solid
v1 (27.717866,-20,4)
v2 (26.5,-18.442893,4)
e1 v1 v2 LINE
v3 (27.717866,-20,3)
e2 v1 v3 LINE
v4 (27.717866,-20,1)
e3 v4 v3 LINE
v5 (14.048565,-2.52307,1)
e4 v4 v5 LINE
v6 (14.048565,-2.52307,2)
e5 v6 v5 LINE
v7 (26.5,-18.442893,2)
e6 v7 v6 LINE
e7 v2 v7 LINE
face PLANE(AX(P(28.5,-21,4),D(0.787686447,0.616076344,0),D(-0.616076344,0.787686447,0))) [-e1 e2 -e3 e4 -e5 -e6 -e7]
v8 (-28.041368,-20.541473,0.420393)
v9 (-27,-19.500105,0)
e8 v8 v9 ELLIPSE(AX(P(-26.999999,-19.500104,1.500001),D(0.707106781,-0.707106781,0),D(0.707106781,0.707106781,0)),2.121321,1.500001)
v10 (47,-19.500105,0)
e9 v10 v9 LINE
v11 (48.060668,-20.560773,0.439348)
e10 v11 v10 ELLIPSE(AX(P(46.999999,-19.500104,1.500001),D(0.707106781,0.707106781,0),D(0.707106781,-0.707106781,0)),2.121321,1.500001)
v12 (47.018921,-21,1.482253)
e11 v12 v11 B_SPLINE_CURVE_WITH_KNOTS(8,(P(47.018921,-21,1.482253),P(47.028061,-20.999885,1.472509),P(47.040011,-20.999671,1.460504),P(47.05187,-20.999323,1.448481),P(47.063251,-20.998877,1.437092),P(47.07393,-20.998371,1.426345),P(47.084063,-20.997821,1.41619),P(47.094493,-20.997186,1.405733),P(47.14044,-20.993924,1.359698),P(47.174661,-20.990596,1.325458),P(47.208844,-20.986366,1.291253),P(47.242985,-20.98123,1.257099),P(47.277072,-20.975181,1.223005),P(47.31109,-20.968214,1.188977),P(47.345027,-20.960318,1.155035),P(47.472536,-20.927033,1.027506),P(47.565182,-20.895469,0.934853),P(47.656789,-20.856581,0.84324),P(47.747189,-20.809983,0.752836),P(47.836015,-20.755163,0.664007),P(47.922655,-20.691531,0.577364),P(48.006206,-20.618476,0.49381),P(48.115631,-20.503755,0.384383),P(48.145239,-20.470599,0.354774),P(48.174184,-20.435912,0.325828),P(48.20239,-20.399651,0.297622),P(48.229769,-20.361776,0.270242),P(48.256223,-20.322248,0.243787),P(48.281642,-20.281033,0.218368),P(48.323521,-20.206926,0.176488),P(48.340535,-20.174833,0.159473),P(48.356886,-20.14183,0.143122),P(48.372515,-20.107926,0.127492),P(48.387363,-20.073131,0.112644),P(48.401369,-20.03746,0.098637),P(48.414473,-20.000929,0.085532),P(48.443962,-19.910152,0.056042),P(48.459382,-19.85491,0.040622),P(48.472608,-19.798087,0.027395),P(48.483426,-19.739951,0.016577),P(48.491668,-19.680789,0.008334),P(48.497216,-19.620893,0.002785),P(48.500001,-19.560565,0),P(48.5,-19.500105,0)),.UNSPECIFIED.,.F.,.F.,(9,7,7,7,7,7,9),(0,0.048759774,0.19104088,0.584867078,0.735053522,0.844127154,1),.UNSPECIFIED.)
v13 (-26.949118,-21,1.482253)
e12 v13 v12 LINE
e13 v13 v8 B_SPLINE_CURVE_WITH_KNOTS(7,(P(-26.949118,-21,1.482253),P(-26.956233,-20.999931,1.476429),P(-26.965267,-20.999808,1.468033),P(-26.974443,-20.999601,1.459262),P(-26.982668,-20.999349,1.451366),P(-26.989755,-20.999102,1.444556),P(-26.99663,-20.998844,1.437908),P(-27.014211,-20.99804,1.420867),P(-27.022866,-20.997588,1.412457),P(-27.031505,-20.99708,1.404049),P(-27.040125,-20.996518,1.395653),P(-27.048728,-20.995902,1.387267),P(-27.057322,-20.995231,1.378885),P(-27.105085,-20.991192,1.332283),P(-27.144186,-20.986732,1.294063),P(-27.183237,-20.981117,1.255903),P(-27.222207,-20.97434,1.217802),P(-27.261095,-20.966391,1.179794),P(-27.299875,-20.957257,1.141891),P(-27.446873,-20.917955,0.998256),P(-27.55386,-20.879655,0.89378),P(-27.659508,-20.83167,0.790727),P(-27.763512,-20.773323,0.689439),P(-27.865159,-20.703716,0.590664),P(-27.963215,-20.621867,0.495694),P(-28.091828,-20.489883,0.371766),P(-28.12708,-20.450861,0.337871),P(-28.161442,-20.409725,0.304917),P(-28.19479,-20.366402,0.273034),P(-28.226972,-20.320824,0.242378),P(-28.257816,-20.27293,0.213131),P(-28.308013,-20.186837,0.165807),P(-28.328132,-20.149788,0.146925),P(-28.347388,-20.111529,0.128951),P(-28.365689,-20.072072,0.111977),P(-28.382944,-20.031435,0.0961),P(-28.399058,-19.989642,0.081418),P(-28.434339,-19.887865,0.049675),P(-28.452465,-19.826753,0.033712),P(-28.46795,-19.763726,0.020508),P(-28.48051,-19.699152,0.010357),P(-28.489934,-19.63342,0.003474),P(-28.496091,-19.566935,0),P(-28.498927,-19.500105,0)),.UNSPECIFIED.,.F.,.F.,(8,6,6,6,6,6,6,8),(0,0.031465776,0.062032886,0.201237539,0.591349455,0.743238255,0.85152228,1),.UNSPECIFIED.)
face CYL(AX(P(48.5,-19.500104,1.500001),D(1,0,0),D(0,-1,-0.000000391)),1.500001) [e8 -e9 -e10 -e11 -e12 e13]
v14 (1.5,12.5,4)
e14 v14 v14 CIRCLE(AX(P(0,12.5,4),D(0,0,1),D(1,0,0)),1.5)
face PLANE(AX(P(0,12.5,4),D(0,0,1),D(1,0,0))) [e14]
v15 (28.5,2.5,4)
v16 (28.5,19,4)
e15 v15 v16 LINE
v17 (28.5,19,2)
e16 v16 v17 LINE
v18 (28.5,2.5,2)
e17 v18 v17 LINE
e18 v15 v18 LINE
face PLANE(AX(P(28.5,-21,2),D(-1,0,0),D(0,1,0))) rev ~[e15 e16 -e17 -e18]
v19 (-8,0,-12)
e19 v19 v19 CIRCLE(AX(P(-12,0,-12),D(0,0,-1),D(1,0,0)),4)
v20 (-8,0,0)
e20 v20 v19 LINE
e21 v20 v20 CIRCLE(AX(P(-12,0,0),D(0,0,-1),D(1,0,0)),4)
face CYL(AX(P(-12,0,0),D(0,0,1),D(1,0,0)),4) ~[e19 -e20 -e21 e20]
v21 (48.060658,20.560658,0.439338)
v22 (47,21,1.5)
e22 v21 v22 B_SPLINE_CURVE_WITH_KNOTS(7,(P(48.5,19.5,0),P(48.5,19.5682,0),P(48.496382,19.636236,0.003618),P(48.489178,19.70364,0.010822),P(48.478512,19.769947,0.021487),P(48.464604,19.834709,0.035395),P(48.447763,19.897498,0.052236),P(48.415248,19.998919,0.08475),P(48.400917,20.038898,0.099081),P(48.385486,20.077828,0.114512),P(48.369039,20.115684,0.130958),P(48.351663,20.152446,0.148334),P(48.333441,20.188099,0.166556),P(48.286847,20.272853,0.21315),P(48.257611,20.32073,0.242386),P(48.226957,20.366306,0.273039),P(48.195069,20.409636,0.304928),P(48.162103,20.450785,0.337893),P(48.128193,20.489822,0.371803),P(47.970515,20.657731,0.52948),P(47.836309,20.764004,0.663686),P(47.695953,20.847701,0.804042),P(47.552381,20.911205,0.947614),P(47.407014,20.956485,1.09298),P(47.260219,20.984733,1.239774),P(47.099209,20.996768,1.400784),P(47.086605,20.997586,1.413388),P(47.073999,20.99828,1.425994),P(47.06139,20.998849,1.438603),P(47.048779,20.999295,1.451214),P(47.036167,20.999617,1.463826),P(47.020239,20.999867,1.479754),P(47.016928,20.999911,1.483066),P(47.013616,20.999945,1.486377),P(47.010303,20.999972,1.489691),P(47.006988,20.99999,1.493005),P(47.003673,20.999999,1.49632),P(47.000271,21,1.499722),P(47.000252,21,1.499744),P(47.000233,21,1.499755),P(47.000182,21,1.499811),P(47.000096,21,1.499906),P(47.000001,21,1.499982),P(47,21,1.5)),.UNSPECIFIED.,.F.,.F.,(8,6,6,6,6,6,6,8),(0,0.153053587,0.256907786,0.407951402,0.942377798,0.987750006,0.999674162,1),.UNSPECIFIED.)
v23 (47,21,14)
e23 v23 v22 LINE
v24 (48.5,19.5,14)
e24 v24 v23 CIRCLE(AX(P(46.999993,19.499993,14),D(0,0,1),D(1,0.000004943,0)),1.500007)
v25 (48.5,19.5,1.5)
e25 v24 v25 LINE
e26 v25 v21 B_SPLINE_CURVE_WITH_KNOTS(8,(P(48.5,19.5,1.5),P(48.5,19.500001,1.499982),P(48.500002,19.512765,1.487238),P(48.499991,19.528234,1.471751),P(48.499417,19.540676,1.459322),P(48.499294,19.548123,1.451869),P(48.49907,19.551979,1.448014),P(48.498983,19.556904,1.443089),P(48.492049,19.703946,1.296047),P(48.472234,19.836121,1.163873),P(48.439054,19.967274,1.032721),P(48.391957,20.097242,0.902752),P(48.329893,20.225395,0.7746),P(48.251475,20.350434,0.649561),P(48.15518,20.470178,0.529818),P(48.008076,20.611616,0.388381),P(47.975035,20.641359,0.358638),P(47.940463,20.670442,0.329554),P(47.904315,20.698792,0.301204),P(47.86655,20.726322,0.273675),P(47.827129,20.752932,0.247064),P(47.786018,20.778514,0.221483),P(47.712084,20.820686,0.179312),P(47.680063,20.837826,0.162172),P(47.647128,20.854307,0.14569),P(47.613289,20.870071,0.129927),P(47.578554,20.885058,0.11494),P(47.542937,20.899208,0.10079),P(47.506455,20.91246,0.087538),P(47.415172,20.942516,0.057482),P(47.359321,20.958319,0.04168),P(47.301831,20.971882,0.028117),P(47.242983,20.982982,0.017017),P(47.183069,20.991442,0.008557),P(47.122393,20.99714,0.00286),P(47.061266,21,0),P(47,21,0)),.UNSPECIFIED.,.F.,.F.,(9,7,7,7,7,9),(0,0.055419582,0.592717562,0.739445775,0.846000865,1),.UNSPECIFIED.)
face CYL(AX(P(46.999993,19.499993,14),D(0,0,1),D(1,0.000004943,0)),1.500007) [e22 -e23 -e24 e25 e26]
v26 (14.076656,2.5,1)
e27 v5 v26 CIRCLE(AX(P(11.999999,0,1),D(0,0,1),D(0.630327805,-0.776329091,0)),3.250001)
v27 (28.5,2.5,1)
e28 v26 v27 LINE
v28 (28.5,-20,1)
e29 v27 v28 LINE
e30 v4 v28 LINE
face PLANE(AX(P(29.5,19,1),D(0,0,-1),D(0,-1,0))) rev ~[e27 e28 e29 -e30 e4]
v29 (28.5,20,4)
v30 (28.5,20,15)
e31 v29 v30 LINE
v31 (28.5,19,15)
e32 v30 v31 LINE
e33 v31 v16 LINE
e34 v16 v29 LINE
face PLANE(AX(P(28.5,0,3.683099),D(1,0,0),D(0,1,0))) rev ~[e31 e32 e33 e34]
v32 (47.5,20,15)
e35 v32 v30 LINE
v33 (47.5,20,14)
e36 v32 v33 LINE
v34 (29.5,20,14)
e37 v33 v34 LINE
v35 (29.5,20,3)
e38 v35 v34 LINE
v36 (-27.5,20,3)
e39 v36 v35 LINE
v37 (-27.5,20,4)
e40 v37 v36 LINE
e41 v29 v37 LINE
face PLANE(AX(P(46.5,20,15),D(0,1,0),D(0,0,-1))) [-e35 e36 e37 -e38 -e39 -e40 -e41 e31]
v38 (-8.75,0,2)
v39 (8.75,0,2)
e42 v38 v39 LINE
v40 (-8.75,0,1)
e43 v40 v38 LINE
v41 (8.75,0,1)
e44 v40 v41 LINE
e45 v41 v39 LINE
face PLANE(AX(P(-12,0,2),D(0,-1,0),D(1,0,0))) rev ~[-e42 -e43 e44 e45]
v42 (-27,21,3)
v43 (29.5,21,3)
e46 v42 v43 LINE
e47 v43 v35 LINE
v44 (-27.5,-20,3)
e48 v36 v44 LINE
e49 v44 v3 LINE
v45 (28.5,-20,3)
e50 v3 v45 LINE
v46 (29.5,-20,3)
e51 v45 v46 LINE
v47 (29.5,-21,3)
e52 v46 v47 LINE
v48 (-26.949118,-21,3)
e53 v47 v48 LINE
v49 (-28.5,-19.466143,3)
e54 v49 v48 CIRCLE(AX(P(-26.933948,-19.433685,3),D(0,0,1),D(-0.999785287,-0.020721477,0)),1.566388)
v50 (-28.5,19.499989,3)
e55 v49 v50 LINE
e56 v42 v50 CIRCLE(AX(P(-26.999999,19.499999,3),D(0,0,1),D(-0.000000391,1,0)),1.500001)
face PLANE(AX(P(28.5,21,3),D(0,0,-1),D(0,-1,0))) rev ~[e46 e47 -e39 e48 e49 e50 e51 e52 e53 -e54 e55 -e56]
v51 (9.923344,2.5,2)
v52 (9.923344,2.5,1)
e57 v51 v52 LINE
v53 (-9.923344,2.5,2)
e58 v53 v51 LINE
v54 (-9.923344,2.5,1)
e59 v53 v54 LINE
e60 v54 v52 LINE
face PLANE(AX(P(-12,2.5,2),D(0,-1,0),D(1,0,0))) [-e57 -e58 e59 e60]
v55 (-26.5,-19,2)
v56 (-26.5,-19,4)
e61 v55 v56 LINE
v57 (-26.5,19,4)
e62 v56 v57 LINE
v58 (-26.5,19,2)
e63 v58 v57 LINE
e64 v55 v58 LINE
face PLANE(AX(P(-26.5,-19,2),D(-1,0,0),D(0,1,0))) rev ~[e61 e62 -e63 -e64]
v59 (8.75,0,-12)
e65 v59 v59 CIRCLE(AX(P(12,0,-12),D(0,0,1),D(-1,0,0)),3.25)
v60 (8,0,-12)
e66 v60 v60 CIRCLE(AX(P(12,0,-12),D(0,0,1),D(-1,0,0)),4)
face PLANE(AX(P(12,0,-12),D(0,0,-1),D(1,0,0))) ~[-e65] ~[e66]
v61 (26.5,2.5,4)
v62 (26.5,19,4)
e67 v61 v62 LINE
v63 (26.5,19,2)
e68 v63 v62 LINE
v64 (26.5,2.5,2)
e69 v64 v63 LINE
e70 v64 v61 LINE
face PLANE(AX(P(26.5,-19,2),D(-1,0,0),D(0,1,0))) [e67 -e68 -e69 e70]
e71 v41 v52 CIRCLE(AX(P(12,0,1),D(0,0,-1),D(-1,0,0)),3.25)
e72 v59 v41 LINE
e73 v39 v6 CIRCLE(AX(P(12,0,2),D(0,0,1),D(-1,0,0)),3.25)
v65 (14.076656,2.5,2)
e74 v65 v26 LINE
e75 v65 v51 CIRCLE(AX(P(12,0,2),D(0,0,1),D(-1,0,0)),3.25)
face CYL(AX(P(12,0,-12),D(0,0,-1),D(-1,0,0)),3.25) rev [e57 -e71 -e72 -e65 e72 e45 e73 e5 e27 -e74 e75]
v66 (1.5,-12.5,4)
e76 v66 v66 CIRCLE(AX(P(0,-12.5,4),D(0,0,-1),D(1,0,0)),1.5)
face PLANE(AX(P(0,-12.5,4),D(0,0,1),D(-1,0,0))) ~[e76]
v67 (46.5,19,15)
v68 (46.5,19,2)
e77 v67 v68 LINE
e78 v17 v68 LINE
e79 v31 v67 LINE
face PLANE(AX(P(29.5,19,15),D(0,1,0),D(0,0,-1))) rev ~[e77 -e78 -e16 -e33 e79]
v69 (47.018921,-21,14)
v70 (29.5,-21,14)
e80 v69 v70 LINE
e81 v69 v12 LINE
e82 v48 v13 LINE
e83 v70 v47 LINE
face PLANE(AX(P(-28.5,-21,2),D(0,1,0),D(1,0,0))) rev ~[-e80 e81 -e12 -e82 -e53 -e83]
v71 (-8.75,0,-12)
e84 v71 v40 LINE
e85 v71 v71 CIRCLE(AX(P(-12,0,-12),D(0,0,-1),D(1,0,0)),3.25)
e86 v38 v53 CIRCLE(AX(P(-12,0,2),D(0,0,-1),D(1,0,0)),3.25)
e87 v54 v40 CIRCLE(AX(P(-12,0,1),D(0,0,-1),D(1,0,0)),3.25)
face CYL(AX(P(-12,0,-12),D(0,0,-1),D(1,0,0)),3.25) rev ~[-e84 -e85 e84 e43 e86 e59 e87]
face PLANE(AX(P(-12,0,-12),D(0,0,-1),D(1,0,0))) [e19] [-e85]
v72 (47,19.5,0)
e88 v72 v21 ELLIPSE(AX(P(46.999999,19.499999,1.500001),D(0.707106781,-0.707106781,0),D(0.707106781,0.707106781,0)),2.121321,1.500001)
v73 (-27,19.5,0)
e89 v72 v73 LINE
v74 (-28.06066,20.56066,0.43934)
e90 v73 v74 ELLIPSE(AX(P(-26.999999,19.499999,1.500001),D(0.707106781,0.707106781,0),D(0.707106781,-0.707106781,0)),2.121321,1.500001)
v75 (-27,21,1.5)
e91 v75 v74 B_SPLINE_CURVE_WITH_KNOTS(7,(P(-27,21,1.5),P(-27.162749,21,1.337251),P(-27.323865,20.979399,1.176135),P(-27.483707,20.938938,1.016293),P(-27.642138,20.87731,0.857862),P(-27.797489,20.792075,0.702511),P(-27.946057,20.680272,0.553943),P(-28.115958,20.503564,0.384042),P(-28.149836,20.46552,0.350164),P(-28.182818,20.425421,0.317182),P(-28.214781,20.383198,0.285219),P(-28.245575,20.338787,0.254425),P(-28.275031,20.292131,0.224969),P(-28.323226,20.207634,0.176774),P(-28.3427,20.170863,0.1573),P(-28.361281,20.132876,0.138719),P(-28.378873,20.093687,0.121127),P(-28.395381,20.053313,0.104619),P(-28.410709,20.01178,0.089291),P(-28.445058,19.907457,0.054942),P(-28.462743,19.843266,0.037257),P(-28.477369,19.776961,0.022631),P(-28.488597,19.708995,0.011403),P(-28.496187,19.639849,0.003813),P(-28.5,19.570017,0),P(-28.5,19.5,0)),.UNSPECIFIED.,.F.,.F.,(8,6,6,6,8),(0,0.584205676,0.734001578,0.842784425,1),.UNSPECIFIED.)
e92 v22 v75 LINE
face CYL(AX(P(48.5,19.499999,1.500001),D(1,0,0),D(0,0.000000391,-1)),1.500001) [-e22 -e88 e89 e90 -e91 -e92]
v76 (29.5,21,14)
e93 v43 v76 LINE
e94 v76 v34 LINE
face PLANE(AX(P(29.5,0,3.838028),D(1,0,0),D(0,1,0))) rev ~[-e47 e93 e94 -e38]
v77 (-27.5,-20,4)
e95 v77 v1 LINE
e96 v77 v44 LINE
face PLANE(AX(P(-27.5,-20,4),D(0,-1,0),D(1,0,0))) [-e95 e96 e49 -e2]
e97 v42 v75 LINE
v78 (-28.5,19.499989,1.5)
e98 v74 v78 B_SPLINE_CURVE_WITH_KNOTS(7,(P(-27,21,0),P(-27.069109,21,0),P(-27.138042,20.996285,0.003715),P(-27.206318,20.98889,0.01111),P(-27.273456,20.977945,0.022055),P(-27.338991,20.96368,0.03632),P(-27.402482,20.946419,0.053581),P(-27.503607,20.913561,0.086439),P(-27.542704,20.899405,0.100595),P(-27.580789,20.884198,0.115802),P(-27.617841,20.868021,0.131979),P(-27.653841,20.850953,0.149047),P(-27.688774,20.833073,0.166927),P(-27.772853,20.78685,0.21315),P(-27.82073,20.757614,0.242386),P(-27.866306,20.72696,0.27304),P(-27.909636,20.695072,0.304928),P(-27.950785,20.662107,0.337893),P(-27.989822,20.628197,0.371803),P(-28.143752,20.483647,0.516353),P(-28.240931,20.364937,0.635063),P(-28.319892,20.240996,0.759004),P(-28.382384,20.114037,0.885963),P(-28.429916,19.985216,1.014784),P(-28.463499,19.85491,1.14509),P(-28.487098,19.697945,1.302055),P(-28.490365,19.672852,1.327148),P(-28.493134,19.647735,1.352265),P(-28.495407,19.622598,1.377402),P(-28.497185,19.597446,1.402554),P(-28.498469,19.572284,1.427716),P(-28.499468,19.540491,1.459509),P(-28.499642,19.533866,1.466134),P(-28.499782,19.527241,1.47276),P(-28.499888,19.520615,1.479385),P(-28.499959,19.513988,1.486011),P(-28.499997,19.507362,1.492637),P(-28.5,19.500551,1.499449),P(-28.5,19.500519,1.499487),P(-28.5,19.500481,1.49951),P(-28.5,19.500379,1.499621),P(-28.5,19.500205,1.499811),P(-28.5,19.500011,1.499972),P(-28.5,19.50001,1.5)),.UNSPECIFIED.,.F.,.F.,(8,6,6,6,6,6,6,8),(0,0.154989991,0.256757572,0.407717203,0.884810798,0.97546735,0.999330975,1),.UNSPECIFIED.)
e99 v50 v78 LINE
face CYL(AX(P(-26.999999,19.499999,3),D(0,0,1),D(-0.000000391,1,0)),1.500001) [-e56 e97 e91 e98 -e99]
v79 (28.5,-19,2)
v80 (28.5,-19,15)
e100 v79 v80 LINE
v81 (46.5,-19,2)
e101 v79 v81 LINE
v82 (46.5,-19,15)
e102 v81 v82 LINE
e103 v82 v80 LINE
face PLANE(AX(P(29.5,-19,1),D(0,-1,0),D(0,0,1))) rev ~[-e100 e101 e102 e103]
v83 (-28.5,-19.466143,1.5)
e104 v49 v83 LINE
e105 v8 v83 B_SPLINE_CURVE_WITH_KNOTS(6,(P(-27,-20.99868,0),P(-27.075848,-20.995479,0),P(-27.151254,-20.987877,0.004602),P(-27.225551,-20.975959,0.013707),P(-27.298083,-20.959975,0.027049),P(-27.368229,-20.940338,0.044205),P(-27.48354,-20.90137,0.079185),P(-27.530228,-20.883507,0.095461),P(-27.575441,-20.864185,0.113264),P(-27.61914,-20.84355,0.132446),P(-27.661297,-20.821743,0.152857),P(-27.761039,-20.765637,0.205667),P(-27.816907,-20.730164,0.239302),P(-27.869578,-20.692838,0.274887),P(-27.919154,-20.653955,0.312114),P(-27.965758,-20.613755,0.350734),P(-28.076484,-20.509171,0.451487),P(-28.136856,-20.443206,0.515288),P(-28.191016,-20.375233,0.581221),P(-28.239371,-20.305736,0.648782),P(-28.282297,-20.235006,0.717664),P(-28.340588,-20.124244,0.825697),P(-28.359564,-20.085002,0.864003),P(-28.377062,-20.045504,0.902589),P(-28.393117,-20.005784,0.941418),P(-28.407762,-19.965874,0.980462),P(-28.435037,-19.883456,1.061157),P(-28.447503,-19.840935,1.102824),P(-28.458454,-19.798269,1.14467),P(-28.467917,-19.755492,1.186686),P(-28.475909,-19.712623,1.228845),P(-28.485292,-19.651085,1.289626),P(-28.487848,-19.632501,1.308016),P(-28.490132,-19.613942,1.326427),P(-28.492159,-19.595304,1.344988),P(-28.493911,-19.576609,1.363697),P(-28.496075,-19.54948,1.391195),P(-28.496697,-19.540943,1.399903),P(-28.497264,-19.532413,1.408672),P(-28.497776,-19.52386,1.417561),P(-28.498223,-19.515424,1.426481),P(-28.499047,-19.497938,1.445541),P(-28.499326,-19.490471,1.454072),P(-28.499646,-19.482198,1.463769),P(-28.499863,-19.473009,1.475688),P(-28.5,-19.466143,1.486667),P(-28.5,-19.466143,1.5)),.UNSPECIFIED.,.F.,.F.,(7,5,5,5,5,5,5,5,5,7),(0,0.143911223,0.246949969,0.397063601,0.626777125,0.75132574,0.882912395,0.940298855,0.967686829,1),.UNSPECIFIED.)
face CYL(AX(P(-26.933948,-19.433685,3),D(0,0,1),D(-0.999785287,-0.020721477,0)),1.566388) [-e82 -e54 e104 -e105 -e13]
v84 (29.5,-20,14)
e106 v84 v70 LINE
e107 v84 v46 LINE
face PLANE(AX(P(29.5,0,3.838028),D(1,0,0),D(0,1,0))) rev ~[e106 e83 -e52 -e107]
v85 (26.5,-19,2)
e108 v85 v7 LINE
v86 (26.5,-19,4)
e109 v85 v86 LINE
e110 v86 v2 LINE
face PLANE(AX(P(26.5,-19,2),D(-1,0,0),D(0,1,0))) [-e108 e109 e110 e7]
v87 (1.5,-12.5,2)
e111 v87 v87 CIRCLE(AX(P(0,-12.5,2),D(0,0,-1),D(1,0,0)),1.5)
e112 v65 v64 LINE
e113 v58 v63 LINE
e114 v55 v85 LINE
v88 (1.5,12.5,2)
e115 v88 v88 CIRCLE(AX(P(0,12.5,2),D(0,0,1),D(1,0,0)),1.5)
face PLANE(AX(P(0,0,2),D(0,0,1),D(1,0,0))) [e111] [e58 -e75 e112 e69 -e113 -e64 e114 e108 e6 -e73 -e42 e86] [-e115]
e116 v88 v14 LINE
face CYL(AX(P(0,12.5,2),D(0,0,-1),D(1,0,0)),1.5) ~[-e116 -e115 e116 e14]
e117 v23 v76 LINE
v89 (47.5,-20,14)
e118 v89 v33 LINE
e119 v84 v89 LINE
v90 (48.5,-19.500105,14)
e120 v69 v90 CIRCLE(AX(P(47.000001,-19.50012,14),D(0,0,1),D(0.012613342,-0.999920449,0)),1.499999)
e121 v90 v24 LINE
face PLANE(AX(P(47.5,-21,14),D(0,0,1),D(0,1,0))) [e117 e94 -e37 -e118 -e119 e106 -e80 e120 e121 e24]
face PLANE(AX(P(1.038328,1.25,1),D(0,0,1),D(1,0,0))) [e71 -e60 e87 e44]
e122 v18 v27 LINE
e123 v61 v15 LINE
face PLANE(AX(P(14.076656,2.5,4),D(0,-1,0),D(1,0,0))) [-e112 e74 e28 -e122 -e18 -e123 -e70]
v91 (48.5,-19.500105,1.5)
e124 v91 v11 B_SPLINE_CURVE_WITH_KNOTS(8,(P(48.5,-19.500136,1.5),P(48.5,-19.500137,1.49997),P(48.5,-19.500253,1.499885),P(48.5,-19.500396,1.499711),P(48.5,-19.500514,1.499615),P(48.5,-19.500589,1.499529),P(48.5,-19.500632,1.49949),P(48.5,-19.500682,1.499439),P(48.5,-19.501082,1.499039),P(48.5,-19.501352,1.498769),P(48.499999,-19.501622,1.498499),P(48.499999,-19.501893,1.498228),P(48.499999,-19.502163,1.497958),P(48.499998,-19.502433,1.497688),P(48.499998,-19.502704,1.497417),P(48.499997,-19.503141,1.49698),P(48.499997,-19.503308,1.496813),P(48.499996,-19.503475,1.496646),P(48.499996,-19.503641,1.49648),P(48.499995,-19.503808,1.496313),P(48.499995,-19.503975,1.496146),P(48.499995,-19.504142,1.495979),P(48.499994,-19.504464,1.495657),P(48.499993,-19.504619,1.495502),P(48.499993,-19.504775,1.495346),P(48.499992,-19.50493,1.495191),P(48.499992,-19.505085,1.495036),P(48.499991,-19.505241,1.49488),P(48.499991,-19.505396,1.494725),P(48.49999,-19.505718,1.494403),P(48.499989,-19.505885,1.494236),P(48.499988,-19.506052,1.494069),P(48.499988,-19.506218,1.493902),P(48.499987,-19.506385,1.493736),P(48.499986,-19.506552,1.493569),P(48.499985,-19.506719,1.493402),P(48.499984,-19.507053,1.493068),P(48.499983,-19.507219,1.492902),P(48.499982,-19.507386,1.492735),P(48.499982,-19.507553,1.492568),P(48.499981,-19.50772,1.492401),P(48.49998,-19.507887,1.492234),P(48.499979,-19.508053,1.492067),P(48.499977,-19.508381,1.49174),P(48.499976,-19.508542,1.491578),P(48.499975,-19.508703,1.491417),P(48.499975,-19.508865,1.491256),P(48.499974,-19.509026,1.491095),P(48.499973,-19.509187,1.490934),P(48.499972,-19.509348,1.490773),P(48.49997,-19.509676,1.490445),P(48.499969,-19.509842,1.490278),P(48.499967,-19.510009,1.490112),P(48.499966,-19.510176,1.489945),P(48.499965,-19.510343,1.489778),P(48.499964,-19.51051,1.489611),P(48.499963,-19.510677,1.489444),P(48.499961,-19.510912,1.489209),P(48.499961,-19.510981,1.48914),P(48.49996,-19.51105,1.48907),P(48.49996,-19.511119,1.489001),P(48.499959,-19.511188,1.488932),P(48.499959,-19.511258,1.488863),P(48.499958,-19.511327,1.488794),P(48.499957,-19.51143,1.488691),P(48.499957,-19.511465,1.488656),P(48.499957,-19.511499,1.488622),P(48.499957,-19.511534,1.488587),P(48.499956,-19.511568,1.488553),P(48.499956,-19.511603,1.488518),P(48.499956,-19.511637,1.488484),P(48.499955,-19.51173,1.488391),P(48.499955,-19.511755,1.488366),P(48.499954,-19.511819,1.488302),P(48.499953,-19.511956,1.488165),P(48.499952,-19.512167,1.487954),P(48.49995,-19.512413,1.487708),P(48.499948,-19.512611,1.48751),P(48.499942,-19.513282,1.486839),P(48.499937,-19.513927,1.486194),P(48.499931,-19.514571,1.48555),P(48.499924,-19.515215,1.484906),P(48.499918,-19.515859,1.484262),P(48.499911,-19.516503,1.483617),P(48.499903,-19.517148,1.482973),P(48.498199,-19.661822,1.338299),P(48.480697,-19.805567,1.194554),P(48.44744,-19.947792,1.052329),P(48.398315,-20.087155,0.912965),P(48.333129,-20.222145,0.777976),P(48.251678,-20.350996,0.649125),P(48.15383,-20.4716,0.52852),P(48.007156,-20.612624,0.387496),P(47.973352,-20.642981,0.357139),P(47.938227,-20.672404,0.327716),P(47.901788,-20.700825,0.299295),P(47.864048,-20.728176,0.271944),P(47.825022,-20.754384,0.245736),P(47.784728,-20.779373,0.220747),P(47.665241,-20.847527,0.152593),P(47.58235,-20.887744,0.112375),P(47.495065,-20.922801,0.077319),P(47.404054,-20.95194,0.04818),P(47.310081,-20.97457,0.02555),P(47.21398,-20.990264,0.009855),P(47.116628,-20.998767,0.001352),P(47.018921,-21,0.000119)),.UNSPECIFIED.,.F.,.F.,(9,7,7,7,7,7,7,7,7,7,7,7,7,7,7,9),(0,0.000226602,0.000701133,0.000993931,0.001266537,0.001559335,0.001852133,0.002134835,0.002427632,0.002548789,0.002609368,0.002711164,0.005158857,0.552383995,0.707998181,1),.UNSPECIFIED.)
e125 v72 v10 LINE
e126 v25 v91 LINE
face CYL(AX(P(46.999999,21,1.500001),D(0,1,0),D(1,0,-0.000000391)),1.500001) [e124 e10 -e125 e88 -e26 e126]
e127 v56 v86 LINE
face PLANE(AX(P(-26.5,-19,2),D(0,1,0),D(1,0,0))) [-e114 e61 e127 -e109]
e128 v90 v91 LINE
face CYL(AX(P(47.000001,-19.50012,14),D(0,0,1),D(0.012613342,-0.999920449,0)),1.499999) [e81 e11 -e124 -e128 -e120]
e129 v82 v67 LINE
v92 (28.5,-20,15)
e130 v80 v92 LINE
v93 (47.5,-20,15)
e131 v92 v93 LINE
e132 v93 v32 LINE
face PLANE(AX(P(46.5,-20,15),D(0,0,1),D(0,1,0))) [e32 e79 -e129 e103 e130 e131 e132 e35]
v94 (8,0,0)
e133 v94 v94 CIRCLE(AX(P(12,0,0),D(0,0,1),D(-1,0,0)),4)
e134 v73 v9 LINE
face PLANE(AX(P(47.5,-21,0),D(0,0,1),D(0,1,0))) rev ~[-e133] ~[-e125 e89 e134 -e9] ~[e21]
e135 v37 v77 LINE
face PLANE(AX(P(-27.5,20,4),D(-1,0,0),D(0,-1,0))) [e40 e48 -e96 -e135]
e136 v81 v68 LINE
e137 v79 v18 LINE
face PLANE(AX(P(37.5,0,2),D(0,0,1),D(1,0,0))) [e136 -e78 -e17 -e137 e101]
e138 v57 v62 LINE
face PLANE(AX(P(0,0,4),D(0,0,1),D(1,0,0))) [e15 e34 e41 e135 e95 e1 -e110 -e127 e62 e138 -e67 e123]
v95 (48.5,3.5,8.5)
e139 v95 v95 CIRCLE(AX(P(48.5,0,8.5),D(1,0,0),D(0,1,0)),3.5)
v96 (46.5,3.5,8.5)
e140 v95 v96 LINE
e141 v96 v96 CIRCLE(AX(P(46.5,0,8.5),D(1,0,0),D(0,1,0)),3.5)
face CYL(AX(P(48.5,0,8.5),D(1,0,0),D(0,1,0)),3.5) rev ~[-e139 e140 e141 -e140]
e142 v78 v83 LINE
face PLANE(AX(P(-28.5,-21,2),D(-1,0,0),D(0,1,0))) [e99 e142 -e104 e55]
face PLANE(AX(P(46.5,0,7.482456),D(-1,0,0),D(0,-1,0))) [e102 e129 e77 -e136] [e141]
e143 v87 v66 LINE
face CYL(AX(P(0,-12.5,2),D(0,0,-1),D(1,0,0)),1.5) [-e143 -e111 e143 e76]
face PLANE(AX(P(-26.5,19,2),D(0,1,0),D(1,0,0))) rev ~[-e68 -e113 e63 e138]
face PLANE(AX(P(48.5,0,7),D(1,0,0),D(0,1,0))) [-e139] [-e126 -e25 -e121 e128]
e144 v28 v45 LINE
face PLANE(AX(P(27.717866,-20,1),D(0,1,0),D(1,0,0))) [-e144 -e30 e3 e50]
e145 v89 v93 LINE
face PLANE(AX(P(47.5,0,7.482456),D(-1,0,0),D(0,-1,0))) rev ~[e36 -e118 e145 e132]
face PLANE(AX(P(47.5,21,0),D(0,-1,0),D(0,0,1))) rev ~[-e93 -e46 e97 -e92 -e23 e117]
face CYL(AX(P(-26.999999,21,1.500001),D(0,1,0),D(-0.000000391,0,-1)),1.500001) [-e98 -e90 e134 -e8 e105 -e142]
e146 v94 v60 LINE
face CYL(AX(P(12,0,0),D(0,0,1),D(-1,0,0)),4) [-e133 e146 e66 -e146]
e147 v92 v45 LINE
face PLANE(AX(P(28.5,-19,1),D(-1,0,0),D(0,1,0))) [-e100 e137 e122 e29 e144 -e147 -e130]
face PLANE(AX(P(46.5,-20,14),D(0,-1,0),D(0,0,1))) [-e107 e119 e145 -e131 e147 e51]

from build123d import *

# Parameters (mm, degrees)
SKETCH_W        = 57
SKETCH_H        = 42
PAD_DEPTH       = 2
SKETCH001_W     = 57
SKETCH001_H     = 42
SKETCH001_W_2   = 53
SKETCH001_H_2   = 38
PAD001_DEPTH    = 2
SKETCH002_R     = 4
PAD002_DEPTH    = 12
SKETCH003_R     = 3.25
POCKET_DEPTH    = 14
SKETCH004_R     = 1.5
PAD003_DEPTH    = 2
POCKET001_DEPTH = 3
SKETCH006_W     = 26.076656
SKETCH006_H     = 2.5
POCKET002_DEPTH = 1
POCKET003_DEPTH = 1
PAD004_DEPTH    = 1
PAD005_DEPTH    = 17
PAD006_DEPTH    = 1
SKETCH011_W     = 42
SKETCH011_H     = 14
PAD007_DEPTH    = 1
SKETCH012_R     = 3.5
POCKET004_DEPTH = 2
SKETCH013_W     = 18
SKETCH013_H     = 38
PAD008_DEPTH    = 1
SKETCH014_W     = 0.782134
SKETCH014_H     = 1
PAD009_DEPTH    = 2
POCKET005_DEPTH = 15
POCKET006_DEPTH = 15
POCKET007_DEPTH = 3
POCKET008_DEPTH = 3
POCKET009_DEPTH = 80
POCKET010_DEPTH = 80
POCKET011_DEPTH = 42
POCKET012_DEPTH = 42


with BuildPart() as part:
    # Sketch → Pad (new body)
    with BuildSketch(Plane.XY):
        Rectangle(SKETCH_W, SKETCH_H)
    extrude(amount=PAD_DEPTH)

    # Sketch001 (on Face6 of Pad) → Pad001 (join)
    with BuildSketch(Plane.XY.offset(2)):
        Rectangle(SKETCH001_W, SKETCH001_H)
        Rectangle(SKETCH001_W_2, SKETCH001_H_2, mode=Mode.SUBTRACT)
    extrude(amount=PAD001_DEPTH)

    # Sketch002 (on Face4 of Pad001) → Pad002 (join)
    with BuildSketch(Plane(origin=(0, 0, 0), x_dir=(1, 0, 0), z_dir=(0, 0, -1))):
        with Locations((-12, 0)):
            Circle(SKETCH002_R)
    pad002 = extrude(amount=PAD002_DEPTH)

    # Sketch003 (on Face12 of Pad002) → Pocket (cut)
    with BuildSketch(Plane(origin=(0, 0, -12), x_dir=(1, 0, 0), z_dir=(0, 0, -1))):
        with Locations((-12, 0)):
            Circle(SKETCH003_R)
    pocket = extrude(amount=-POCKET_DEPTH, mode=Mode.SUBTRACT)

    # Mirrored: Pad002 across Sketch002 V_Axis
    add(pad002.mirror(Plane(origin=(0, 0, 0), x_dir=(0, 0, -1), z_dir=(1, 0, 0))))

    # Mirrored001: Pocket across Sketch003 V_Axis
    add(pocket.mirror(Plane(origin=(0, 0, -12), x_dir=(0, 0, -1), z_dir=(1, 0, 0))), mode=Mode.SUBTRACT)

    # Sketch004 (on Face21 of Mirrored001) → Pad003 (join)
    with BuildSketch(Plane.XY.offset(2)):
        with Locations((0, 12.5)):
            Circle(SKETCH004_R)
    pad003 = extrude(amount=PAD003_DEPTH)

    # Mirrored002: Pad003 across Sketch004 H_Axis
    add(pad003.mirror(Plane(origin=(0, 0, 2), x_dir=(0, 0, 1), z_dir=(0, 1, 0))))

    # Sketch005 (on Face21 of Mirrored002) → Pocket001 (cut)
    with BuildSketch(Plane.XY.offset(4)):
        with BuildLine():
            ThreePointArc((14.048565, -2.52307), (15.249949, -0.018175), (14.076656, 2.5))
            Line((14.076656, 2.5), (28.5, 2.5))
            Line((28.5, 2.5), (28.5, -21))
            Line((28.5, -21), (14.048565, -2.52307))
        make_face()
    extrude(amount=-POCKET001_DEPTH, mode=Mode.SUBTRACT)

    # Sketch006 (on Face17 of Pocket001) → Pocket002 (cut)
    with BuildSketch(Plane.XY.offset(2)):
        with Locations((1.038328, 1.25)):
            Rectangle(SKETCH006_W, SKETCH006_H)
    extrude(amount=-POCKET002_DEPTH, mode=Mode.SUBTRACT)

    # Sketch007 (on Face13 of Pocket002) → Pocket003 (cut)
    with BuildSketch(Plane.XY.offset(4)):
        Polygon((28.5, 21), (28.5, 20), (-27.5, 20), (-27.5, -20), (28.5, -20), (28.5, -21), (-28.5, -21), (-28.5, 21), align=None)
    extrude(amount=-POCKET003_DEPTH, mode=Mode.SUBTRACT)

    # Sketch008 (on Face3 of Pocket003) → Pad004 (join)
    with BuildSketch(Plane.YZ.offset(28.5)):
        Polygon((-19, 1), (-19, 15), (-20, 15), (-20, 4), (-20, 3), (-21, 3), (-21, 0), (21, 0), (21, 3), (20, 3), (20, 15), (19, 15), (19, 1), align=None)
    extrude(amount=PAD004_DEPTH)

    # Sketch009 (on Face10 of Pad004) → Pad005 (join)
    with BuildSketch(Plane.YZ.offset(29.5)):
        Polygon((-19, 15), (-20, 15), (-20, 14), (-21, 14), (-21, 0), (21, 0), (21, 14), (20, 14), (20, 15), (19, 15), (19, 1), (-19, 1), align=None)
    extrude(amount=PAD005_DEPTH)

    # Sketch010 (on Face20 of Pad005) → Pad006 (join)
    with BuildSketch(Plane.YZ.offset(46.5)):
        Polygon((-20, 15), (20, 15), (20, 14), (21, 14), (21, 0), (-21, 0), (-21, 14), (-20, 14), align=None)
    extrude(amount=PAD006_DEPTH)

    # Sketch011 (on Face34 of Pad006) → Pad007 (join)
    with BuildSketch(Plane.YZ.offset(47.5)):
        with Locations((0, 7)):
            Rectangle(SKETCH011_W, SKETCH011_H)
    extrude(amount=PAD007_DEPTH)

    # Sketch012 (on Face51 of Pad007) → Pocket004 (cut)
    with BuildSketch(Plane.YZ.offset(48.5)):
        with Locations((0, 8.5)):
            Circle(SKETCH012_R)
    extrude(amount=-POCKET004_DEPTH, mode=Mode.SUBTRACT)

    # Sketch013 (on Face77 of Pocket004) → Pad008 (join)
    with BuildSketch(Plane.XY.offset(1)):
        with Locations((37.5, 0)):
            Rectangle(SKETCH013_W, SKETCH013_H)
    extrude(amount=PAD008_DEPTH)

    # Sketch014 (on Face40 of Pad008) → Pad009 (join)
    with BuildSketch(Plane.XY.offset(1)):
        with Locations((28.108933, -20.5)):
            Rectangle(SKETCH014_W, SKETCH014_H)
    extrude(amount=PAD009_DEPTH)

    # Sketch015 (on Face50 of Pad009) → Pocket005 (cut)
    with BuildSketch(Plane.XY.offset(14)):
        with BuildLine():
            ThreePointArc((47.018921, -21), (48.067334, -20.554064), (48.5, -19.500105))
            Line((48.5, -19.500105), (48.5, -21))
            Line((48.5, -21), (47.018921, -21))
        make_face()
    extrude(amount=-POCKET005_DEPTH, mode=Mode.SUBTRACT)

    # Sketch016 (on Face51 of Pocket005) → Pocket006 (cut)
    with BuildSketch(Plane.XY.offset(14)):
        with BuildLine():
            ThreePointArc((48.5, 19.5), (48.060658, 20.560658), (47, 21))
            Line((47, 21), (48.5, 21))
            Line((48.5, 21), (48.5, 19.5))
        make_face()
    extrude(amount=-POCKET006_DEPTH, mode=Mode.SUBTRACT)

    # Sketch017 (on Face13 of Pocket006) → Pocket007 (cut)
    with BuildSketch(Plane.XY.offset(3)):
        with BuildLine():
            ThreePointArc((-27, 21), (-28.060664, 20.560656), (-28.5, 19.499989))
            Line((-28.5, 21), (-28.5, 19.499989))
            Line((-27, 21), (-28.5, 21))
        make_face()
    extrude(amount=-POCKET007_DEPTH, mode=Mode.SUBTRACT)

    # Sketch018 (on Face13 of Pocket007) → Pocket008 (cut)
    with BuildSketch(Plane.XY.offset(3)):
        with BuildLine():
            ThreePointArc((-28.5, -19.466143), (-28.035422, -20.547385), (-26.949118, -21))
            Line((-28.5, -21), (-26.949118, -21))
            Line((-28.5, -19.466143), (-28.5, -21))
        make_face()
    extrude(amount=-POCKET008_DEPTH, mode=Mode.SUBTRACT)

    # Sketch019 (on Face60 of Pocket008) → Pocket009 (cut)
    with BuildSketch(Plane.YZ.offset(48.5)):
        with BuildLine():
            Line((-21.000105, 1.5), (-21.000105, 0))
            Line((-21.000105, 0), (-19.500105, 0))
            ThreePointArc((-21.000105, 1.5), (-20.560765, 0.43934), (-19.500105, 0))
        make_face()
    extrude(amount=-POCKET009_DEPTH, mode=Mode.SUBTRACT)

    # Sketch020 (on Face36 of Pocket009) → Pocket010 (cut)
    with BuildSketch(Plane.YZ.offset(48.5)):
        with BuildLine():
            Line((19.5, 0), (21, 0))
            Line((21, 0), (21, 1.5))
            ThreePointArc((19.5, 0), (20.56066, 0.43934), (21, 1.5))
        make_face()
    extrude(amount=-POCKET010_DEPTH, mode=Mode.SUBTRACT)

    # Sketch021 (on Face13 of Pocket010) → Pocket011 (cut)
    with BuildSketch(Plane(origin=(0, 21, 0), x_dir=(-1, 0, 0), z_dir=(0, 1, 0))):
        with BuildLine():
            Line((-48.5, 1.5), (-48.5, 0))
            Line((-47, 0), (-48.5, 0))
            ThreePointArc((-48.5, 1.5), (-48.06066, 0.43934), (-47, 0))
        make_face()
    extrude(amount=-POCKET011_DEPTH, mode=Mode.SUBTRACT)

    # Sketch022 (on Face4 of Pocket011) → Pocket012 (cut)
    with BuildSketch(Plane(origin=(0, 21, 0), x_dir=(-1, 0, 0), z_dir=(0, 1, 0))):
        with BuildLine():
            Line((28.5, 1.5), (28.5, 0))
            Line((28.5, 0), (27, 0))
            ThreePointArc((27, 0), (28.06066, 0.43934), (28.5, 1.5))
        make_face()
    extrude(amount=-POCKET012_DEPTH, mode=Mode.SUBTRACT)


solid = part.part
